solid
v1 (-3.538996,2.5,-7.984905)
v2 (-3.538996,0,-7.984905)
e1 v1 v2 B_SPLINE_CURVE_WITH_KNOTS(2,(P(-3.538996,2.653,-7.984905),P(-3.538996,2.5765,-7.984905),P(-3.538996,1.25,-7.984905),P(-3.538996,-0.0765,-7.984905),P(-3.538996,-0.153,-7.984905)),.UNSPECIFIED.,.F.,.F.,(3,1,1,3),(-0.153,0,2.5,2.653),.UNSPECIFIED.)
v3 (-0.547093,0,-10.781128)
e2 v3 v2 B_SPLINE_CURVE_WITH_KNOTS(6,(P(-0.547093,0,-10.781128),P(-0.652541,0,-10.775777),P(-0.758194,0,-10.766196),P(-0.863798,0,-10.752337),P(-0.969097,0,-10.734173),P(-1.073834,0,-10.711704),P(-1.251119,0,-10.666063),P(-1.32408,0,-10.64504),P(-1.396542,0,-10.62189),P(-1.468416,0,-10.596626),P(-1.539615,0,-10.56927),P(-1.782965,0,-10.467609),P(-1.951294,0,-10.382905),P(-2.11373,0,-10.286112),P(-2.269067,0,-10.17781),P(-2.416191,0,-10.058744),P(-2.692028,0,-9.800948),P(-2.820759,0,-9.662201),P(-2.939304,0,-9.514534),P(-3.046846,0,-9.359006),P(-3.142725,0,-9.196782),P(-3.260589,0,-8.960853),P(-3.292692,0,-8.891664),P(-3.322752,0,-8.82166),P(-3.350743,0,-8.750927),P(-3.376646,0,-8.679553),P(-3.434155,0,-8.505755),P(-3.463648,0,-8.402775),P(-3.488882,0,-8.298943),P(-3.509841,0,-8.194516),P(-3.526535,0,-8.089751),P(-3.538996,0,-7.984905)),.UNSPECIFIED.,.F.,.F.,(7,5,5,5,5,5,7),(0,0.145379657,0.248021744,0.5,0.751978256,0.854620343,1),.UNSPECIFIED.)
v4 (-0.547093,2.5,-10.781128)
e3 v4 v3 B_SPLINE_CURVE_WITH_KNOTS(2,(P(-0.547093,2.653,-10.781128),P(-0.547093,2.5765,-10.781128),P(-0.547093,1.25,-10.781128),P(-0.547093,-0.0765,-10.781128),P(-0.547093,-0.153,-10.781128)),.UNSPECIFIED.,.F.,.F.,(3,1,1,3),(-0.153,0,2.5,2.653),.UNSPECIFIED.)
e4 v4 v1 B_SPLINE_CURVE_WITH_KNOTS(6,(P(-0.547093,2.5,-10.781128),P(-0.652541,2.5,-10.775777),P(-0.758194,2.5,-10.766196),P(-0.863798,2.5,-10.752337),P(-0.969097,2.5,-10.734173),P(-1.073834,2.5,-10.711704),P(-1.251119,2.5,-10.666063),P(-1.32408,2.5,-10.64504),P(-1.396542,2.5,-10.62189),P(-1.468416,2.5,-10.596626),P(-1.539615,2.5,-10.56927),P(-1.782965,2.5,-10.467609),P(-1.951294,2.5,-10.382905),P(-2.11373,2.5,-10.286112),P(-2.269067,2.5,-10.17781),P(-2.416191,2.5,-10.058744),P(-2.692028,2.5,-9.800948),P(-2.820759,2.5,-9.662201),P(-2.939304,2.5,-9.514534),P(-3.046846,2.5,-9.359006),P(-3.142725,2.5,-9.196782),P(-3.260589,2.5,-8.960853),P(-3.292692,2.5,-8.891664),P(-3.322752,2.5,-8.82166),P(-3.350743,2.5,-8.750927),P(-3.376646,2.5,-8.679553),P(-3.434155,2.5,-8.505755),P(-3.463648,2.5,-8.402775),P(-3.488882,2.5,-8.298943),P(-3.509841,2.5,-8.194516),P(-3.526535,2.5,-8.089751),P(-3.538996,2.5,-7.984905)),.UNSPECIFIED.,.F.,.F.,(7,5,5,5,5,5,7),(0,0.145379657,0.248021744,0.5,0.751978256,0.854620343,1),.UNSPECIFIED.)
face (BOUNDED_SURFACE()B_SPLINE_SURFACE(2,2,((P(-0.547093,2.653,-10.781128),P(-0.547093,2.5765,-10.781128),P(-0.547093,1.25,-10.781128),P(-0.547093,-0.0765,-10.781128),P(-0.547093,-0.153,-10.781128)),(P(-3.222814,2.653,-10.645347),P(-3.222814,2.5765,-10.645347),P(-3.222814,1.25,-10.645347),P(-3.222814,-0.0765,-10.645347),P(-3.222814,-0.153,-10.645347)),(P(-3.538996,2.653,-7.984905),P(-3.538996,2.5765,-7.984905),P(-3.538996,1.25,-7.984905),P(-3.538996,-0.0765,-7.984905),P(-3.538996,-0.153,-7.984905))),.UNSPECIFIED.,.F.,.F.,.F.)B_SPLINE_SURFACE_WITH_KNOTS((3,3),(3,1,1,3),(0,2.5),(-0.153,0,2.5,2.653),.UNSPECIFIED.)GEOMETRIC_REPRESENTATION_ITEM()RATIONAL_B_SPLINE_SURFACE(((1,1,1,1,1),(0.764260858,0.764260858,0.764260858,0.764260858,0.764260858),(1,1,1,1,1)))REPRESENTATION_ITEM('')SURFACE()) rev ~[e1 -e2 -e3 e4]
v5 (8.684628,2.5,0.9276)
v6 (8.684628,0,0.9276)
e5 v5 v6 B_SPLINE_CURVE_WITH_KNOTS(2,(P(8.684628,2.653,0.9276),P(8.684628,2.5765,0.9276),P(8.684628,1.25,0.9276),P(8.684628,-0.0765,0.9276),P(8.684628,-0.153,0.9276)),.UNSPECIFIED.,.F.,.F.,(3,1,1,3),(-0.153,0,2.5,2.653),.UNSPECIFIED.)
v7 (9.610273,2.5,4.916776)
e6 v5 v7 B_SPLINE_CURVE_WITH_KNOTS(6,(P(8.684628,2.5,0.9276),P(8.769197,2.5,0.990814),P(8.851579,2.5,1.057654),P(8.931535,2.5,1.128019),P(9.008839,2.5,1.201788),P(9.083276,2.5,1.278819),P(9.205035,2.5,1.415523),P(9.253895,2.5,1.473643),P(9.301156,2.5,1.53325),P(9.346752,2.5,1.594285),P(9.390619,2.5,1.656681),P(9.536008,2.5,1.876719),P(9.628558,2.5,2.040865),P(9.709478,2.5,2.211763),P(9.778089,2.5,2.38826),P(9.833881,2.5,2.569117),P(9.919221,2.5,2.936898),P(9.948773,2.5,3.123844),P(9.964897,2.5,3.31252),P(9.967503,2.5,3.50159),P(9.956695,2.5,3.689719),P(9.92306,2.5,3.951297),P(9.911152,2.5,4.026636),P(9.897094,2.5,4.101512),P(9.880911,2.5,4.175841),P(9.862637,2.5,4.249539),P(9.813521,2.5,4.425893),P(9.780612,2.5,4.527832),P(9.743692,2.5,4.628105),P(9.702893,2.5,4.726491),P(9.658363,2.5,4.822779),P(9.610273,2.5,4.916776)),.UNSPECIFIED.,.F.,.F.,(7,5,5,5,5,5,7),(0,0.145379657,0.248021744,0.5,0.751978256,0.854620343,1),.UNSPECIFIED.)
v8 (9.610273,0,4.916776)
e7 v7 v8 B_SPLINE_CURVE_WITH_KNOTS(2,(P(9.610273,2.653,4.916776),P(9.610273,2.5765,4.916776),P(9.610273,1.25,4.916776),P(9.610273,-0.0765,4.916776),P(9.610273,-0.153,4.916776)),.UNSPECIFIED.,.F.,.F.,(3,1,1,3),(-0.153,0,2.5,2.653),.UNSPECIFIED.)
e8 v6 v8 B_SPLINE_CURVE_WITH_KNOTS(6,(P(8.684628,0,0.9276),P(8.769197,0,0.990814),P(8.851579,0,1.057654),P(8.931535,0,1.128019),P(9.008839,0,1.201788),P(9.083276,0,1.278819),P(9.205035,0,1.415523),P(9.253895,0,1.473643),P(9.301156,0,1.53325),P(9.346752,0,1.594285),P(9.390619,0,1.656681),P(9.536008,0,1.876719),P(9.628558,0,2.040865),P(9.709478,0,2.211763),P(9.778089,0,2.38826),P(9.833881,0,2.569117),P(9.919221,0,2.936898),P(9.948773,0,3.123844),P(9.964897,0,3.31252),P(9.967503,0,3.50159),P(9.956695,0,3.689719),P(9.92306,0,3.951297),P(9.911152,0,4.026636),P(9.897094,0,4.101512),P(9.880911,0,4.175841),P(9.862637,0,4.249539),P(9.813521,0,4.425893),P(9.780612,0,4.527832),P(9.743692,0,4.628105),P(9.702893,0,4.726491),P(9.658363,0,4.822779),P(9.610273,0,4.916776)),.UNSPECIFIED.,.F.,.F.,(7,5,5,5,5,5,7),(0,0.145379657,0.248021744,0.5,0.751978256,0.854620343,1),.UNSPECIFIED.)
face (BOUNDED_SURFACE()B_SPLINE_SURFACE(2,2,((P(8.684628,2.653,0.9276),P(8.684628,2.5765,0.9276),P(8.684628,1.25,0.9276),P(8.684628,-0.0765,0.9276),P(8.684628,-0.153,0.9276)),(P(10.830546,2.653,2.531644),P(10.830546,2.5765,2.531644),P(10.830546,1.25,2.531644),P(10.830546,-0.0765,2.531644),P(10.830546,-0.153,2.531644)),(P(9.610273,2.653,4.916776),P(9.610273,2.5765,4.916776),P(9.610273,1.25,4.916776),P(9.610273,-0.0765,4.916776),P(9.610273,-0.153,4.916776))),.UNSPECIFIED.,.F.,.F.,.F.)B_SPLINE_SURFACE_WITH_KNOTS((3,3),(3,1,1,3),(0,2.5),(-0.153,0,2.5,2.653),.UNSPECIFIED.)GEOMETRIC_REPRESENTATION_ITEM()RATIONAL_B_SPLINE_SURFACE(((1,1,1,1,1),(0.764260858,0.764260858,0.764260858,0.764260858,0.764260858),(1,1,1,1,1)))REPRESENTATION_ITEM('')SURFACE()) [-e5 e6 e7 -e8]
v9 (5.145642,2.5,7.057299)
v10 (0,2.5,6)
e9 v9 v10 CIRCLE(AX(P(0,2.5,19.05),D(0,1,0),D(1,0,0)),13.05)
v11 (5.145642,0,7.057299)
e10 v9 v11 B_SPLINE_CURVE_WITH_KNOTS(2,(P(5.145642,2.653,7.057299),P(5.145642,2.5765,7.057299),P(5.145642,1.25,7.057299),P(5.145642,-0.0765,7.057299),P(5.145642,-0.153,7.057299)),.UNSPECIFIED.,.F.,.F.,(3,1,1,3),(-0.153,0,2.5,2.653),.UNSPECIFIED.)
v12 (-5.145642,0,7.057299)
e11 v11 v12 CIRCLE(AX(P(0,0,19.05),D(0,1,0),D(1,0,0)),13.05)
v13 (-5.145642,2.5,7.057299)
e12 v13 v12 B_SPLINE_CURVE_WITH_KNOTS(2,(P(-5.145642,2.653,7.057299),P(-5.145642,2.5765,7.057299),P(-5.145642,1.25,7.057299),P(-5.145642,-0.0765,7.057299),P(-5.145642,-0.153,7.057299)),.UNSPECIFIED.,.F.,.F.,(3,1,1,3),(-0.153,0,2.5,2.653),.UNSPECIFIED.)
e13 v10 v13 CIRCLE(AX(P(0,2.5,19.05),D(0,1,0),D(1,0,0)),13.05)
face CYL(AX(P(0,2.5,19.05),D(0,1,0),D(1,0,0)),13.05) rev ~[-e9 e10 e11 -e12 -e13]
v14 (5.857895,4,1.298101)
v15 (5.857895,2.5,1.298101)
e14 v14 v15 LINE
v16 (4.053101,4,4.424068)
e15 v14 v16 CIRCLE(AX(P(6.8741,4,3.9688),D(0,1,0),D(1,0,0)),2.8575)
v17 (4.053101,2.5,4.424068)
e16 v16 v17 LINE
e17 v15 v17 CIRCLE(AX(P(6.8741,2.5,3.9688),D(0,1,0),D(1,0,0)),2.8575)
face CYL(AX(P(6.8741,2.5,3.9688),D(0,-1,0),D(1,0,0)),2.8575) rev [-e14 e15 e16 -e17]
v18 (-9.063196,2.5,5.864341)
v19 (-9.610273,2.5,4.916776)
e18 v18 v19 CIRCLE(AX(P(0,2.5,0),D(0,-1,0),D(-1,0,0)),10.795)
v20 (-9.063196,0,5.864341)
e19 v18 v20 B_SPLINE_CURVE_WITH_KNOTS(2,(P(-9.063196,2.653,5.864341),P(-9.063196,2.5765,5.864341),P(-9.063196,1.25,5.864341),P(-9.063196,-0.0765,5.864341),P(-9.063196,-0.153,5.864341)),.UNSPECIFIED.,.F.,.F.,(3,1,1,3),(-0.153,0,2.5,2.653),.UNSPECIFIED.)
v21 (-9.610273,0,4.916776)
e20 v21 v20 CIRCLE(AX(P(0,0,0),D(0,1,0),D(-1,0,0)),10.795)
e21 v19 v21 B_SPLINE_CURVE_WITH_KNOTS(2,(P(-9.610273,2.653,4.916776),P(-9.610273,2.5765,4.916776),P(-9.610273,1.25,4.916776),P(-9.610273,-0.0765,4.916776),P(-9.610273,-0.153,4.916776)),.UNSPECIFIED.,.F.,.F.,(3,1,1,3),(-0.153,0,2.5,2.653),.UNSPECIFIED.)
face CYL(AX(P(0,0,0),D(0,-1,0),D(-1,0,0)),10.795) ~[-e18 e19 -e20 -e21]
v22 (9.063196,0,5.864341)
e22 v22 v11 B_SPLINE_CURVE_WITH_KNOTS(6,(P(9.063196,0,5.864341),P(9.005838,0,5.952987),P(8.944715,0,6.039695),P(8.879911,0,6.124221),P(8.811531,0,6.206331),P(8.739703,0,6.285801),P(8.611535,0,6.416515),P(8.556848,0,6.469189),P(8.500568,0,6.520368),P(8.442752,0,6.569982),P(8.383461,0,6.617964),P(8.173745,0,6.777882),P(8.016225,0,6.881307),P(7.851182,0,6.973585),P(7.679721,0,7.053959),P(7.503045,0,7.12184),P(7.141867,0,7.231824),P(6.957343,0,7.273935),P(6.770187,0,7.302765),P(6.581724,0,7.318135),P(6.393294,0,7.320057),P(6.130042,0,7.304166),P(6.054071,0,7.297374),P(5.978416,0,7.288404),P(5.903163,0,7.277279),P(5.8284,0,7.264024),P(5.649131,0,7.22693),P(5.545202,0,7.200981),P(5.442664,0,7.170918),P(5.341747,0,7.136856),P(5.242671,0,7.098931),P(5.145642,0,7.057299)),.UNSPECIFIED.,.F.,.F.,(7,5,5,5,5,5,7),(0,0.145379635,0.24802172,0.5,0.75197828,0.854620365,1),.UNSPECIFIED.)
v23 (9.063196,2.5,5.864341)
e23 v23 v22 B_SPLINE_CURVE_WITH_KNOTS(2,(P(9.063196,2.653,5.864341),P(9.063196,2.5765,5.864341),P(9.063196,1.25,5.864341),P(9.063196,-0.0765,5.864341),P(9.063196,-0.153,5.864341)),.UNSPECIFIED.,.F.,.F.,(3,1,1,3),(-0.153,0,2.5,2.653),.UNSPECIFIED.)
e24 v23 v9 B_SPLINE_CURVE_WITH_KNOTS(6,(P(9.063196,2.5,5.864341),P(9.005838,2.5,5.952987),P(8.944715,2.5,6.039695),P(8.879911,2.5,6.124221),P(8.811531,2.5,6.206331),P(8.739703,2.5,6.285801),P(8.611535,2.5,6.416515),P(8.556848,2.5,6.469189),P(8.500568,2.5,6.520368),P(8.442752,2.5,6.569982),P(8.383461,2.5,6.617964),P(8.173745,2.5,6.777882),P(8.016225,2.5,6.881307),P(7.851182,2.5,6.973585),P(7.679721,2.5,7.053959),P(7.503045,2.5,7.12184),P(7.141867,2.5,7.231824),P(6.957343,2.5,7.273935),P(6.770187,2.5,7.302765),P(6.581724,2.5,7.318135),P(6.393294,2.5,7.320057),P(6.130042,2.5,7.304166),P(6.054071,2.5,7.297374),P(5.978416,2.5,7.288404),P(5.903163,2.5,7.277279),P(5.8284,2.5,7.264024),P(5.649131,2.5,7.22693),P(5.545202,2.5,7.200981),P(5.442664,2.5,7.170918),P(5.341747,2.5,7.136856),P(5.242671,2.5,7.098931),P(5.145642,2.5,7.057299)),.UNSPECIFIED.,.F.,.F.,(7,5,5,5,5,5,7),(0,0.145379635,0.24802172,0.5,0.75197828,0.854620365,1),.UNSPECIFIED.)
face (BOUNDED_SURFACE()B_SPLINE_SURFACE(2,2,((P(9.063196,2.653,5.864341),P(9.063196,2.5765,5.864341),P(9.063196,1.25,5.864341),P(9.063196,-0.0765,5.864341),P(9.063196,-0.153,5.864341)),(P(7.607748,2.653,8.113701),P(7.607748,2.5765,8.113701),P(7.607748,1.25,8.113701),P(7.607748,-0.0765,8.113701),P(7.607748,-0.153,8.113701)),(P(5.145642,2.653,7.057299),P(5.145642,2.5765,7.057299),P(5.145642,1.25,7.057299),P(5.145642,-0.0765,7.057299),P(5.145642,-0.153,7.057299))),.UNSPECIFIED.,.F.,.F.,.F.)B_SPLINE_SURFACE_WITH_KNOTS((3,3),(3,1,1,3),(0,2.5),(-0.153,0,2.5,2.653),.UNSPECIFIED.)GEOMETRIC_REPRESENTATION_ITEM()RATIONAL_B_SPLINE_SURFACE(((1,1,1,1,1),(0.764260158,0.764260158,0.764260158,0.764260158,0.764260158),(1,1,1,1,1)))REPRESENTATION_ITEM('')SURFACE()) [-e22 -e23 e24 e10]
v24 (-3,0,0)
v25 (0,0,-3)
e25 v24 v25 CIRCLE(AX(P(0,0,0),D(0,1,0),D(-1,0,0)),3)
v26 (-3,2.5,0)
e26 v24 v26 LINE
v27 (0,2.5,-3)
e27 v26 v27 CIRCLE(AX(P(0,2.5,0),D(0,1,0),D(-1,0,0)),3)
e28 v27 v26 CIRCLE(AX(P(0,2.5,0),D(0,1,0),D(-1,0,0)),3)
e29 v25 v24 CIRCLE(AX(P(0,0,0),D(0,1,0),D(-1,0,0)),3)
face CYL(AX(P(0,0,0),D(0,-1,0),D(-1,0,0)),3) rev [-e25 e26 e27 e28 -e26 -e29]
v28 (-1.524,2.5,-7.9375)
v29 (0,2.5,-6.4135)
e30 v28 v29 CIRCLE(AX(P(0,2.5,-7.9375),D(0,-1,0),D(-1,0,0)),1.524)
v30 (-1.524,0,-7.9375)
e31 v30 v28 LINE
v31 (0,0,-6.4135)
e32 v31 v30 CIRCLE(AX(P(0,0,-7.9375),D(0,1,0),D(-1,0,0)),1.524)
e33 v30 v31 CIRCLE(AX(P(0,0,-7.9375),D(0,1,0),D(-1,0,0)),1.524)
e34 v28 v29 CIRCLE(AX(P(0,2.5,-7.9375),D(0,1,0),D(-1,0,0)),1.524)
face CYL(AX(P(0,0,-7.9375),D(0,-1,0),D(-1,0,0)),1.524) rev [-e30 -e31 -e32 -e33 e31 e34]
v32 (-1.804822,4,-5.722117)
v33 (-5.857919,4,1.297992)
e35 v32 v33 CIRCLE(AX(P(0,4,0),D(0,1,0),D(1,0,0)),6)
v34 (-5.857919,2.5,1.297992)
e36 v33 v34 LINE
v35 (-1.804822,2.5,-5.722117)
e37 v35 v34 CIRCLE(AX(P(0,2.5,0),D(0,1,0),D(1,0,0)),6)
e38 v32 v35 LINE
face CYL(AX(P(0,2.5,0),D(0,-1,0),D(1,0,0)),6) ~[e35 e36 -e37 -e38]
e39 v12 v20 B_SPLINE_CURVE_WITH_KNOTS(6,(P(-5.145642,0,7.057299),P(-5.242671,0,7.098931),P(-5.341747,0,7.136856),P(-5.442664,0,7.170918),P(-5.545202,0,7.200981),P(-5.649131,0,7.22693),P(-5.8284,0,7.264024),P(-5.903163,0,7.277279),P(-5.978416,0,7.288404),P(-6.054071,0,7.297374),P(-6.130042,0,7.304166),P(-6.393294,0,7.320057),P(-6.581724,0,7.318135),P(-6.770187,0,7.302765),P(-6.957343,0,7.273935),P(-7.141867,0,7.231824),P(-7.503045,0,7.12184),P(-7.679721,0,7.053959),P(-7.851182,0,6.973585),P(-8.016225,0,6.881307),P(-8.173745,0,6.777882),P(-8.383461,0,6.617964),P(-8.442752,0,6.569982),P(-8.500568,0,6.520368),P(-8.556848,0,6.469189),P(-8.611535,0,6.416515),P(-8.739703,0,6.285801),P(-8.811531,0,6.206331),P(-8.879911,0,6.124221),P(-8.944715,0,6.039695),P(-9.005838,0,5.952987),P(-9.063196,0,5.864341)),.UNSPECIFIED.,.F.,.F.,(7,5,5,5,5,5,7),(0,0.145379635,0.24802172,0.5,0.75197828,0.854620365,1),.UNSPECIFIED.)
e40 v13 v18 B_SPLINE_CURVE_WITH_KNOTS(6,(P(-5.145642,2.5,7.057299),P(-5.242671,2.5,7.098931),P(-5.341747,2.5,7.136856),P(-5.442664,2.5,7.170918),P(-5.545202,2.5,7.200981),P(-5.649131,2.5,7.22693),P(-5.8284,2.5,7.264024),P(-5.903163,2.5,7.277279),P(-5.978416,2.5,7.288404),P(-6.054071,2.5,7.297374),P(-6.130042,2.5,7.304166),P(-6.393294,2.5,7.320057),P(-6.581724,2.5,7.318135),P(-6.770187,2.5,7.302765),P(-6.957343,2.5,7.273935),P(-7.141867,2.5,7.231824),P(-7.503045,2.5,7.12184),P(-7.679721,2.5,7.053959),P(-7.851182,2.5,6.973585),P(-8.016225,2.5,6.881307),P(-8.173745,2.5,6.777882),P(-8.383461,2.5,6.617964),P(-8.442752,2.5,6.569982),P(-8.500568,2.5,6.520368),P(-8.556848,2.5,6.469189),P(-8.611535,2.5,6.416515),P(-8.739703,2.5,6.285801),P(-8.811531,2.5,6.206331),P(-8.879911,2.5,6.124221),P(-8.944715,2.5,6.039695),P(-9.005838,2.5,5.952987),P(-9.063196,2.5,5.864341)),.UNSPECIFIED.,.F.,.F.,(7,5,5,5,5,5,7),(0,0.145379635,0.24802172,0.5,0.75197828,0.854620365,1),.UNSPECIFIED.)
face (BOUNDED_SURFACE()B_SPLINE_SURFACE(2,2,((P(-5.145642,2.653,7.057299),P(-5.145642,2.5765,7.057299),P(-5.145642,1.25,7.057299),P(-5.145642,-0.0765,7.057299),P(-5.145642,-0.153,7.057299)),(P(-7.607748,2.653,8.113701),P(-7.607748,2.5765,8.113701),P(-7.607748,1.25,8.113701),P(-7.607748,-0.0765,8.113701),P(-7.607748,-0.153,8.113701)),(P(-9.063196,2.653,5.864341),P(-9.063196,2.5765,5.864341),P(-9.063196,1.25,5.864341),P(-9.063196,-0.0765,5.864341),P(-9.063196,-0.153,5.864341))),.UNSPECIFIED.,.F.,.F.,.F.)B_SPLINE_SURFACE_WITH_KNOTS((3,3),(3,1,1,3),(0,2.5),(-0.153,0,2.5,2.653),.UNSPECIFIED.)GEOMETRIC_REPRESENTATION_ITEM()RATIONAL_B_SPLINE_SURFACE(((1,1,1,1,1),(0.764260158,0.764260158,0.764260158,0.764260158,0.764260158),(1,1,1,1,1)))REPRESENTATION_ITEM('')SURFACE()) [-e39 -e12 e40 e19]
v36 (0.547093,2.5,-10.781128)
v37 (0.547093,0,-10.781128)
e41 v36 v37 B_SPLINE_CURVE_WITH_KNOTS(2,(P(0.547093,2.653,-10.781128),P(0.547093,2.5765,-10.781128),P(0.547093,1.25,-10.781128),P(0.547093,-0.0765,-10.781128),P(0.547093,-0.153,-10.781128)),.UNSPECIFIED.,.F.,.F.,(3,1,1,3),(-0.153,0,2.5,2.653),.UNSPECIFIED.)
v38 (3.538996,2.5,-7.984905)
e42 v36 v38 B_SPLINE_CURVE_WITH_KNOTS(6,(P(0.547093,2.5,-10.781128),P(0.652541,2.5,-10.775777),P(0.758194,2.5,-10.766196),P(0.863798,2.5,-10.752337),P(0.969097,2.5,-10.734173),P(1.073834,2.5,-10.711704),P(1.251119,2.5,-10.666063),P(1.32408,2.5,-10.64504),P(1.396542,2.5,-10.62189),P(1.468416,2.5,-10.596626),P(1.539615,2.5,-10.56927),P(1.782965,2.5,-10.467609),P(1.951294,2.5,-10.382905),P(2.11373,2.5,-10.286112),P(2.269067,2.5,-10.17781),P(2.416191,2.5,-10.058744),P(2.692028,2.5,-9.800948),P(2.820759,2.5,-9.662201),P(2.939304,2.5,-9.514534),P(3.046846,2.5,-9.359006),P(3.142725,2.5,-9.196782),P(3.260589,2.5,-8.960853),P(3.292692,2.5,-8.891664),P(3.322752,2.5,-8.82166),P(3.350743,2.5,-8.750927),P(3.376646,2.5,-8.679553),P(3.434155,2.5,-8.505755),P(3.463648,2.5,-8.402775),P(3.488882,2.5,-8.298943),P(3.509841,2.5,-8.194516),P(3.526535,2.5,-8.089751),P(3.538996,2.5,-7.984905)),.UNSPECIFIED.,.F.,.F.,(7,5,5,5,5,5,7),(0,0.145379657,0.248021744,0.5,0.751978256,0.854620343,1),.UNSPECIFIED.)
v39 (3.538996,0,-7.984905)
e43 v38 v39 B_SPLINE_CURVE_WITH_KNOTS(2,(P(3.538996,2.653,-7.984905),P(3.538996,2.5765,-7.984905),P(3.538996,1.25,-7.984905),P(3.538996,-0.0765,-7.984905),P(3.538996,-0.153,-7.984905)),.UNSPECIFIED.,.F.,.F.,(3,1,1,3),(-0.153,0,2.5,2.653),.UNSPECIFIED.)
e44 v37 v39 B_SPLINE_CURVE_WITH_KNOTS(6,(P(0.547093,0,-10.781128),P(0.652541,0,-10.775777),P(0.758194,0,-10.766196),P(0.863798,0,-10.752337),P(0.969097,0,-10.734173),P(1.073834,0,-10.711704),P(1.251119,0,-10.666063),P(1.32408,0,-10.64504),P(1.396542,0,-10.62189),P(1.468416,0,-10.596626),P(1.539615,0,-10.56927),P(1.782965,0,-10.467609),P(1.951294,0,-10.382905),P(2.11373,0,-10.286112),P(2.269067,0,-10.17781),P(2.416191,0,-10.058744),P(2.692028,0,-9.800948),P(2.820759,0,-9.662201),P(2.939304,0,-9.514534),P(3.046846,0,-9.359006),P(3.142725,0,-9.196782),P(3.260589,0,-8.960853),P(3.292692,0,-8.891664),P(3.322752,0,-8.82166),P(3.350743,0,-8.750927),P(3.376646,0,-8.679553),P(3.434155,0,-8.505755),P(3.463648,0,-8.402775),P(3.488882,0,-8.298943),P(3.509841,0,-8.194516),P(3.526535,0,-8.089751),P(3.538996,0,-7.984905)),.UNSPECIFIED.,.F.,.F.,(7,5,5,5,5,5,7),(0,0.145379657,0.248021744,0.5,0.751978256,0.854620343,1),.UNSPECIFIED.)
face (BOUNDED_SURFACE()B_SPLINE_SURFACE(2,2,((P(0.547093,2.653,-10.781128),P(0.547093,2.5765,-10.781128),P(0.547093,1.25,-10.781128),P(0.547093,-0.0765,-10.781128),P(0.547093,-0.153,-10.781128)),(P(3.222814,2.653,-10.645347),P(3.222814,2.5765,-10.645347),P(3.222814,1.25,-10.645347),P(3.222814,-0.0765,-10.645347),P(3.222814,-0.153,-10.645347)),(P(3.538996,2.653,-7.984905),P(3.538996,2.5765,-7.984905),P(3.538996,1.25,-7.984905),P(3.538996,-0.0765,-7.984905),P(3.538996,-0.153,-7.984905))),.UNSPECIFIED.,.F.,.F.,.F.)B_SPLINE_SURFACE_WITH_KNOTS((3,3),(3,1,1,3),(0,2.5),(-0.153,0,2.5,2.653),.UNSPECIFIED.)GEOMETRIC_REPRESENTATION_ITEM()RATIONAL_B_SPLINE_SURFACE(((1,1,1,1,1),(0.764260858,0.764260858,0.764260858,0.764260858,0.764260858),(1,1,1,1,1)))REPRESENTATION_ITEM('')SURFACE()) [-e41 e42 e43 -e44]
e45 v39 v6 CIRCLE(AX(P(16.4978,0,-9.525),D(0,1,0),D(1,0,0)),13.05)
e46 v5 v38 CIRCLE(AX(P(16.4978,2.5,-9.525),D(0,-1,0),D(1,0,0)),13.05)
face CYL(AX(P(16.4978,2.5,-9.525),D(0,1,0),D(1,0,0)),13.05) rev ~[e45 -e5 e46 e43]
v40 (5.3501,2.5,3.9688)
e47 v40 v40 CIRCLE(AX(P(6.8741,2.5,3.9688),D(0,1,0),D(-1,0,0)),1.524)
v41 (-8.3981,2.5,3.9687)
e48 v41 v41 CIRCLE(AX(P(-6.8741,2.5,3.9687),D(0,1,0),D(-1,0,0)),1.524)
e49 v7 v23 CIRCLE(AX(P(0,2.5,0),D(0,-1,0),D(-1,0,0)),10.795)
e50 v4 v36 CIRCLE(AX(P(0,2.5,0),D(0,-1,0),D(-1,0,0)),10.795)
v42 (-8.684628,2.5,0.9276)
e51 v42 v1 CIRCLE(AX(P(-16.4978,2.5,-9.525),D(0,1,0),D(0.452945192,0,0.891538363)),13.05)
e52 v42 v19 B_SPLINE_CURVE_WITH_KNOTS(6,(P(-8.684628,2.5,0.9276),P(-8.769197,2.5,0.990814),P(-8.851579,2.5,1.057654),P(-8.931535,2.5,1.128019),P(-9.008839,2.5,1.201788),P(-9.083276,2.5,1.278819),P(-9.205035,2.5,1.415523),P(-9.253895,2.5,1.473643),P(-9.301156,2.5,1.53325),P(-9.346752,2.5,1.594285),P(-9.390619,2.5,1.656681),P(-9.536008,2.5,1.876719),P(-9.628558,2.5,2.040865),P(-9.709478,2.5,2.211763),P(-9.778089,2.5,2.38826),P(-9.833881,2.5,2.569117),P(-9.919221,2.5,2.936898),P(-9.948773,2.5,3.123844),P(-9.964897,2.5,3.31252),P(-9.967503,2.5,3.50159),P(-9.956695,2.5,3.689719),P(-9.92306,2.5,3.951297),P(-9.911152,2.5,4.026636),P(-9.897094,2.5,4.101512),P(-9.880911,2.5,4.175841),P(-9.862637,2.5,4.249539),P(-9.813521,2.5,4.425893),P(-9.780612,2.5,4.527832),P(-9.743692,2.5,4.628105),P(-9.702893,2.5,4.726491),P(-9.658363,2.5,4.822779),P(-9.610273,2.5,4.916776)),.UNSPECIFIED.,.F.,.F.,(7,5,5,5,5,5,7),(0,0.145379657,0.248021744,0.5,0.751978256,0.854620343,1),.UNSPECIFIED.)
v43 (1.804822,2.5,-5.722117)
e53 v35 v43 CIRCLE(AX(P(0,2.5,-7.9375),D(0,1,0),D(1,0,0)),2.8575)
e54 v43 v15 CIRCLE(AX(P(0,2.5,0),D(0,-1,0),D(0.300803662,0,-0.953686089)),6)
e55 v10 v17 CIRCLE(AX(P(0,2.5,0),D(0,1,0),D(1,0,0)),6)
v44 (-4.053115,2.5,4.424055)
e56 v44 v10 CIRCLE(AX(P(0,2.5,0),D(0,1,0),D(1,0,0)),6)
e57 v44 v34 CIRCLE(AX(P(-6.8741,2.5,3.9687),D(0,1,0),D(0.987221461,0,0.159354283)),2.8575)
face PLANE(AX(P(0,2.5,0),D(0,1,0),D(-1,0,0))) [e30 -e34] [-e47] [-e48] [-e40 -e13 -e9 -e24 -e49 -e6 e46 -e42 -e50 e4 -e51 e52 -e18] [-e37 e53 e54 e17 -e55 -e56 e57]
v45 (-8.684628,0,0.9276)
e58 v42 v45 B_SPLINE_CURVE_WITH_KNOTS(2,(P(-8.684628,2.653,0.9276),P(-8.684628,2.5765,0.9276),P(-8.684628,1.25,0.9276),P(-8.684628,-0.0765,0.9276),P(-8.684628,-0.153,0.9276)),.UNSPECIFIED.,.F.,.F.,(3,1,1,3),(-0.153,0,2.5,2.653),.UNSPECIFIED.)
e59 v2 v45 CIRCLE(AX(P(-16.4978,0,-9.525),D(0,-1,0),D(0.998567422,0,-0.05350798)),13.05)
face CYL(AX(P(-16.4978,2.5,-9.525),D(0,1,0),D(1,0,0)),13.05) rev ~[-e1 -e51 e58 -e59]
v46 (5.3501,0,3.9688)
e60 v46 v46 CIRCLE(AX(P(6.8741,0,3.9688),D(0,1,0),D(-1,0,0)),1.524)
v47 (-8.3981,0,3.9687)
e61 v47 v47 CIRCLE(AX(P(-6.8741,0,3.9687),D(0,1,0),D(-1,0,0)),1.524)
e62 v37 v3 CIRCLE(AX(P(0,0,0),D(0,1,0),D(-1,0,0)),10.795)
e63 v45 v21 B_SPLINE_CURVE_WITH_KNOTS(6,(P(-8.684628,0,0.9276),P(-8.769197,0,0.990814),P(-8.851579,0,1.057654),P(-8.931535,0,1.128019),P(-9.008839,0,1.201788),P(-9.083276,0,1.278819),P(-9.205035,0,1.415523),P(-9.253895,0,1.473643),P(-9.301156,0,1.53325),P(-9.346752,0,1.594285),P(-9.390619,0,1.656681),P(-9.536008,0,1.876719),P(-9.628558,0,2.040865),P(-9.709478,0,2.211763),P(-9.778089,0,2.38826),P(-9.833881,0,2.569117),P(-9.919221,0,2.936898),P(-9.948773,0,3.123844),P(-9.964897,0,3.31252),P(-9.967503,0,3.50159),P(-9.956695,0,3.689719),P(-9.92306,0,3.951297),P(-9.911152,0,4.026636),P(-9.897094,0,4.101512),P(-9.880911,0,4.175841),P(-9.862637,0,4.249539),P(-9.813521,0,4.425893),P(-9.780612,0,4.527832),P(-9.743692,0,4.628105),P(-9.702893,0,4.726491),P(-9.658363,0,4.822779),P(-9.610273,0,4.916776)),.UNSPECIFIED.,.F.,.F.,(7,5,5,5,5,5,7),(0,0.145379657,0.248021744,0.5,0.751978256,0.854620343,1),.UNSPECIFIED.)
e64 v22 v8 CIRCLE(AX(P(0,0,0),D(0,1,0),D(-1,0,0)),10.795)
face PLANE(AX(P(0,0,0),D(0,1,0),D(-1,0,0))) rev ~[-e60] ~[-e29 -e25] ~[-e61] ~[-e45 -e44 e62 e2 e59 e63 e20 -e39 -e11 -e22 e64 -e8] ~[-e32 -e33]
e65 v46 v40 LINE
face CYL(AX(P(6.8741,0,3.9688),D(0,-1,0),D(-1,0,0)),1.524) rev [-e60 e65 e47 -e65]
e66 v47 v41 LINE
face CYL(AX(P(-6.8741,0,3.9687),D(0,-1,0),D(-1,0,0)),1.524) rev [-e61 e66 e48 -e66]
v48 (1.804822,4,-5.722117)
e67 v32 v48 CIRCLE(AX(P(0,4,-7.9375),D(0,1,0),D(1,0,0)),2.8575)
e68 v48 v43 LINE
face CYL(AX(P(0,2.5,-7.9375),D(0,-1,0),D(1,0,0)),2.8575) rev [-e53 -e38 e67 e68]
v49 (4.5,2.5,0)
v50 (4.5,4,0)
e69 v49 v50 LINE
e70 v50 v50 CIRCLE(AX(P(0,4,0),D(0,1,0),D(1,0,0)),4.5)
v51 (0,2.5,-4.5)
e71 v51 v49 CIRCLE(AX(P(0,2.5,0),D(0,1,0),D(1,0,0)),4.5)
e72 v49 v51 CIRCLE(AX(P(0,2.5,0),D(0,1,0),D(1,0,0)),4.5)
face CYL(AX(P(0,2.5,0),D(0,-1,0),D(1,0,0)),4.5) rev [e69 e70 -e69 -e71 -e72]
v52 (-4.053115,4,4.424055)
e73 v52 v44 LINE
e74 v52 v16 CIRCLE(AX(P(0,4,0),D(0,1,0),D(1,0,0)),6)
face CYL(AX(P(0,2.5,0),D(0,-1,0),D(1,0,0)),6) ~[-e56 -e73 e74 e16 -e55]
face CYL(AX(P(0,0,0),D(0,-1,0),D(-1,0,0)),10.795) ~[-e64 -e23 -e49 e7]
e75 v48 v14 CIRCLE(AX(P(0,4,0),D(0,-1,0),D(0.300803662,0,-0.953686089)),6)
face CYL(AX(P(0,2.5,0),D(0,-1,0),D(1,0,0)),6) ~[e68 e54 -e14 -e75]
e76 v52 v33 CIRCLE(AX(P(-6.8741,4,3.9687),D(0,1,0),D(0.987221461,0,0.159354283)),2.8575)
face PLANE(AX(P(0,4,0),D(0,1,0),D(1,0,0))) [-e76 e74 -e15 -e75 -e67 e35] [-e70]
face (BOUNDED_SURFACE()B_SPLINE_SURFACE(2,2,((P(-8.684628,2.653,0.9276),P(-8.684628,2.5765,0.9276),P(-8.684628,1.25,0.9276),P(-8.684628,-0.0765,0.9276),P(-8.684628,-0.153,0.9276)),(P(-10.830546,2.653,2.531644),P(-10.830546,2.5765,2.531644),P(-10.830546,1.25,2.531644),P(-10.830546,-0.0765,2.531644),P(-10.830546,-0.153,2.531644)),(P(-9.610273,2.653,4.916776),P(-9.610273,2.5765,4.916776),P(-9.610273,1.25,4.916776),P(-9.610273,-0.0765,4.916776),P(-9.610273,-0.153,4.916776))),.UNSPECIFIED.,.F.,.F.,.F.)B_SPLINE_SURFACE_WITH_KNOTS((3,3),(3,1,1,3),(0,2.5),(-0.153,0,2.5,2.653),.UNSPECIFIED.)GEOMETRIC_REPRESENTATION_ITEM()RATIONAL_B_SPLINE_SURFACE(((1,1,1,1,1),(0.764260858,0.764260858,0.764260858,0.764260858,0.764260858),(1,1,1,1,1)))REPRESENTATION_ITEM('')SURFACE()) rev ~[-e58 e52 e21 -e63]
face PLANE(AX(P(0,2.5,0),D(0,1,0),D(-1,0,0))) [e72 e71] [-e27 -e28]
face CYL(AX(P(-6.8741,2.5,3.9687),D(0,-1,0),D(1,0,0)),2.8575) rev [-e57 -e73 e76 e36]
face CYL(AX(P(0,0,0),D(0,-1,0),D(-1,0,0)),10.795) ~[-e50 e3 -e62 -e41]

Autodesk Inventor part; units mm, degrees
ref_plane "YZ Plane" through (0, 0, 0) normal (1, 0, 0) x (0, 1, 0)
ref_plane "XZ Plane" through (0, 0, 0) normal (0, 1, 0) x (-1, 0, 0)
ref_plane "XY Plane" through (0, 0, 0) normal (0, 0, 1) x (1, 0, 0)
sketch "Sketch7" plane through (0, 0, 0) normal (0, 1, 0) x (-1, 0, 0)
  line L0 (0, 0) -> (0, -7.9375)
  circle A0 centre (0, -7.9375) radius 1.524
  circle A1 centre (0, 0) radius 3
  circle A2 centre (6.8741, 3.9687) radius 1.524
  circle A3 centre (-6.8741, 3.9688) radius 1.524
  circle A4 centre (0, 0) radius 10.795
  dimension "d32" = 7.9375
  dimension "d33" = 3.048
  dimension "d34" = 6
  dimension "d37" = 360
  dimension "d39" = 21.59
extrude "Extrusion6" add sketch "Sketch7" along normal blind 2.5
sketch "Sketch8" plane through (0, 2.5, 0) normal (0, 1, 0) x (1, 0, 0)
  circle A0 centre (0, 0) radius 4.5
  circle A1 centre (0, 0) radius 6
  dimension "d42" = 9
  dimension "d43" = 12
extrude "Extrusion7" add sketch "Sketch8" along normal blind 1.5
sketch "Sketch9" plane through (0, 2.5, 0) normal (0, 1, 0) x (1, 0, 0)
  circle A0 centre (0, 7.9375) radius 1.524 projected
  circle A1 centre (0, 7.9375) radius 2.8575
  circle A2 centre (-6.8741, -3.9687) radius 2.8575
  circle A3 centre (6.8741, -3.9688) radius 2.8575
  point P0 (0, 0)
  dimension "d46" = 5.715
  dimension "d49" = 360
extrude "Extrusion8" cut sketch "Sketch9" along normal blind 1.5
sketch "Sketch10" plane through (0, 2.5, 0) normal (0, 1, 0) x (1, 0, 0)
  line L0 (0, 0) -> (16.4978, 9.525)
  line L1 (0, 0) -> (19.05, 0) construction
  circle A0 centre (16.4978, 9.525) radius 13.05
  circle A1 centre (-16.4978, 9.525) radius 13.05
  circle A2 centre (0, -19.05) radius 13.05
  dimension "d53" = 19.05
  dimension "d54" = 30
  dimension "d57" = 360
extrude "Extrusion9" cut sketch "Sketch10" against normal through all
fillet "Fillet1" radius 3.175 6 edges at (-3.4665, 1.25, -10.2233) (-10.5869, 1.25, 2.1096) (3.4665, 1.25, -10.2233) (10.5869, 1.25, 2.1096) (7.1204, 1.25, 8.1137) (-7.1204, 1.25, 8.1137)
properties part number "bearingHousing" material "ABS Plastic"
